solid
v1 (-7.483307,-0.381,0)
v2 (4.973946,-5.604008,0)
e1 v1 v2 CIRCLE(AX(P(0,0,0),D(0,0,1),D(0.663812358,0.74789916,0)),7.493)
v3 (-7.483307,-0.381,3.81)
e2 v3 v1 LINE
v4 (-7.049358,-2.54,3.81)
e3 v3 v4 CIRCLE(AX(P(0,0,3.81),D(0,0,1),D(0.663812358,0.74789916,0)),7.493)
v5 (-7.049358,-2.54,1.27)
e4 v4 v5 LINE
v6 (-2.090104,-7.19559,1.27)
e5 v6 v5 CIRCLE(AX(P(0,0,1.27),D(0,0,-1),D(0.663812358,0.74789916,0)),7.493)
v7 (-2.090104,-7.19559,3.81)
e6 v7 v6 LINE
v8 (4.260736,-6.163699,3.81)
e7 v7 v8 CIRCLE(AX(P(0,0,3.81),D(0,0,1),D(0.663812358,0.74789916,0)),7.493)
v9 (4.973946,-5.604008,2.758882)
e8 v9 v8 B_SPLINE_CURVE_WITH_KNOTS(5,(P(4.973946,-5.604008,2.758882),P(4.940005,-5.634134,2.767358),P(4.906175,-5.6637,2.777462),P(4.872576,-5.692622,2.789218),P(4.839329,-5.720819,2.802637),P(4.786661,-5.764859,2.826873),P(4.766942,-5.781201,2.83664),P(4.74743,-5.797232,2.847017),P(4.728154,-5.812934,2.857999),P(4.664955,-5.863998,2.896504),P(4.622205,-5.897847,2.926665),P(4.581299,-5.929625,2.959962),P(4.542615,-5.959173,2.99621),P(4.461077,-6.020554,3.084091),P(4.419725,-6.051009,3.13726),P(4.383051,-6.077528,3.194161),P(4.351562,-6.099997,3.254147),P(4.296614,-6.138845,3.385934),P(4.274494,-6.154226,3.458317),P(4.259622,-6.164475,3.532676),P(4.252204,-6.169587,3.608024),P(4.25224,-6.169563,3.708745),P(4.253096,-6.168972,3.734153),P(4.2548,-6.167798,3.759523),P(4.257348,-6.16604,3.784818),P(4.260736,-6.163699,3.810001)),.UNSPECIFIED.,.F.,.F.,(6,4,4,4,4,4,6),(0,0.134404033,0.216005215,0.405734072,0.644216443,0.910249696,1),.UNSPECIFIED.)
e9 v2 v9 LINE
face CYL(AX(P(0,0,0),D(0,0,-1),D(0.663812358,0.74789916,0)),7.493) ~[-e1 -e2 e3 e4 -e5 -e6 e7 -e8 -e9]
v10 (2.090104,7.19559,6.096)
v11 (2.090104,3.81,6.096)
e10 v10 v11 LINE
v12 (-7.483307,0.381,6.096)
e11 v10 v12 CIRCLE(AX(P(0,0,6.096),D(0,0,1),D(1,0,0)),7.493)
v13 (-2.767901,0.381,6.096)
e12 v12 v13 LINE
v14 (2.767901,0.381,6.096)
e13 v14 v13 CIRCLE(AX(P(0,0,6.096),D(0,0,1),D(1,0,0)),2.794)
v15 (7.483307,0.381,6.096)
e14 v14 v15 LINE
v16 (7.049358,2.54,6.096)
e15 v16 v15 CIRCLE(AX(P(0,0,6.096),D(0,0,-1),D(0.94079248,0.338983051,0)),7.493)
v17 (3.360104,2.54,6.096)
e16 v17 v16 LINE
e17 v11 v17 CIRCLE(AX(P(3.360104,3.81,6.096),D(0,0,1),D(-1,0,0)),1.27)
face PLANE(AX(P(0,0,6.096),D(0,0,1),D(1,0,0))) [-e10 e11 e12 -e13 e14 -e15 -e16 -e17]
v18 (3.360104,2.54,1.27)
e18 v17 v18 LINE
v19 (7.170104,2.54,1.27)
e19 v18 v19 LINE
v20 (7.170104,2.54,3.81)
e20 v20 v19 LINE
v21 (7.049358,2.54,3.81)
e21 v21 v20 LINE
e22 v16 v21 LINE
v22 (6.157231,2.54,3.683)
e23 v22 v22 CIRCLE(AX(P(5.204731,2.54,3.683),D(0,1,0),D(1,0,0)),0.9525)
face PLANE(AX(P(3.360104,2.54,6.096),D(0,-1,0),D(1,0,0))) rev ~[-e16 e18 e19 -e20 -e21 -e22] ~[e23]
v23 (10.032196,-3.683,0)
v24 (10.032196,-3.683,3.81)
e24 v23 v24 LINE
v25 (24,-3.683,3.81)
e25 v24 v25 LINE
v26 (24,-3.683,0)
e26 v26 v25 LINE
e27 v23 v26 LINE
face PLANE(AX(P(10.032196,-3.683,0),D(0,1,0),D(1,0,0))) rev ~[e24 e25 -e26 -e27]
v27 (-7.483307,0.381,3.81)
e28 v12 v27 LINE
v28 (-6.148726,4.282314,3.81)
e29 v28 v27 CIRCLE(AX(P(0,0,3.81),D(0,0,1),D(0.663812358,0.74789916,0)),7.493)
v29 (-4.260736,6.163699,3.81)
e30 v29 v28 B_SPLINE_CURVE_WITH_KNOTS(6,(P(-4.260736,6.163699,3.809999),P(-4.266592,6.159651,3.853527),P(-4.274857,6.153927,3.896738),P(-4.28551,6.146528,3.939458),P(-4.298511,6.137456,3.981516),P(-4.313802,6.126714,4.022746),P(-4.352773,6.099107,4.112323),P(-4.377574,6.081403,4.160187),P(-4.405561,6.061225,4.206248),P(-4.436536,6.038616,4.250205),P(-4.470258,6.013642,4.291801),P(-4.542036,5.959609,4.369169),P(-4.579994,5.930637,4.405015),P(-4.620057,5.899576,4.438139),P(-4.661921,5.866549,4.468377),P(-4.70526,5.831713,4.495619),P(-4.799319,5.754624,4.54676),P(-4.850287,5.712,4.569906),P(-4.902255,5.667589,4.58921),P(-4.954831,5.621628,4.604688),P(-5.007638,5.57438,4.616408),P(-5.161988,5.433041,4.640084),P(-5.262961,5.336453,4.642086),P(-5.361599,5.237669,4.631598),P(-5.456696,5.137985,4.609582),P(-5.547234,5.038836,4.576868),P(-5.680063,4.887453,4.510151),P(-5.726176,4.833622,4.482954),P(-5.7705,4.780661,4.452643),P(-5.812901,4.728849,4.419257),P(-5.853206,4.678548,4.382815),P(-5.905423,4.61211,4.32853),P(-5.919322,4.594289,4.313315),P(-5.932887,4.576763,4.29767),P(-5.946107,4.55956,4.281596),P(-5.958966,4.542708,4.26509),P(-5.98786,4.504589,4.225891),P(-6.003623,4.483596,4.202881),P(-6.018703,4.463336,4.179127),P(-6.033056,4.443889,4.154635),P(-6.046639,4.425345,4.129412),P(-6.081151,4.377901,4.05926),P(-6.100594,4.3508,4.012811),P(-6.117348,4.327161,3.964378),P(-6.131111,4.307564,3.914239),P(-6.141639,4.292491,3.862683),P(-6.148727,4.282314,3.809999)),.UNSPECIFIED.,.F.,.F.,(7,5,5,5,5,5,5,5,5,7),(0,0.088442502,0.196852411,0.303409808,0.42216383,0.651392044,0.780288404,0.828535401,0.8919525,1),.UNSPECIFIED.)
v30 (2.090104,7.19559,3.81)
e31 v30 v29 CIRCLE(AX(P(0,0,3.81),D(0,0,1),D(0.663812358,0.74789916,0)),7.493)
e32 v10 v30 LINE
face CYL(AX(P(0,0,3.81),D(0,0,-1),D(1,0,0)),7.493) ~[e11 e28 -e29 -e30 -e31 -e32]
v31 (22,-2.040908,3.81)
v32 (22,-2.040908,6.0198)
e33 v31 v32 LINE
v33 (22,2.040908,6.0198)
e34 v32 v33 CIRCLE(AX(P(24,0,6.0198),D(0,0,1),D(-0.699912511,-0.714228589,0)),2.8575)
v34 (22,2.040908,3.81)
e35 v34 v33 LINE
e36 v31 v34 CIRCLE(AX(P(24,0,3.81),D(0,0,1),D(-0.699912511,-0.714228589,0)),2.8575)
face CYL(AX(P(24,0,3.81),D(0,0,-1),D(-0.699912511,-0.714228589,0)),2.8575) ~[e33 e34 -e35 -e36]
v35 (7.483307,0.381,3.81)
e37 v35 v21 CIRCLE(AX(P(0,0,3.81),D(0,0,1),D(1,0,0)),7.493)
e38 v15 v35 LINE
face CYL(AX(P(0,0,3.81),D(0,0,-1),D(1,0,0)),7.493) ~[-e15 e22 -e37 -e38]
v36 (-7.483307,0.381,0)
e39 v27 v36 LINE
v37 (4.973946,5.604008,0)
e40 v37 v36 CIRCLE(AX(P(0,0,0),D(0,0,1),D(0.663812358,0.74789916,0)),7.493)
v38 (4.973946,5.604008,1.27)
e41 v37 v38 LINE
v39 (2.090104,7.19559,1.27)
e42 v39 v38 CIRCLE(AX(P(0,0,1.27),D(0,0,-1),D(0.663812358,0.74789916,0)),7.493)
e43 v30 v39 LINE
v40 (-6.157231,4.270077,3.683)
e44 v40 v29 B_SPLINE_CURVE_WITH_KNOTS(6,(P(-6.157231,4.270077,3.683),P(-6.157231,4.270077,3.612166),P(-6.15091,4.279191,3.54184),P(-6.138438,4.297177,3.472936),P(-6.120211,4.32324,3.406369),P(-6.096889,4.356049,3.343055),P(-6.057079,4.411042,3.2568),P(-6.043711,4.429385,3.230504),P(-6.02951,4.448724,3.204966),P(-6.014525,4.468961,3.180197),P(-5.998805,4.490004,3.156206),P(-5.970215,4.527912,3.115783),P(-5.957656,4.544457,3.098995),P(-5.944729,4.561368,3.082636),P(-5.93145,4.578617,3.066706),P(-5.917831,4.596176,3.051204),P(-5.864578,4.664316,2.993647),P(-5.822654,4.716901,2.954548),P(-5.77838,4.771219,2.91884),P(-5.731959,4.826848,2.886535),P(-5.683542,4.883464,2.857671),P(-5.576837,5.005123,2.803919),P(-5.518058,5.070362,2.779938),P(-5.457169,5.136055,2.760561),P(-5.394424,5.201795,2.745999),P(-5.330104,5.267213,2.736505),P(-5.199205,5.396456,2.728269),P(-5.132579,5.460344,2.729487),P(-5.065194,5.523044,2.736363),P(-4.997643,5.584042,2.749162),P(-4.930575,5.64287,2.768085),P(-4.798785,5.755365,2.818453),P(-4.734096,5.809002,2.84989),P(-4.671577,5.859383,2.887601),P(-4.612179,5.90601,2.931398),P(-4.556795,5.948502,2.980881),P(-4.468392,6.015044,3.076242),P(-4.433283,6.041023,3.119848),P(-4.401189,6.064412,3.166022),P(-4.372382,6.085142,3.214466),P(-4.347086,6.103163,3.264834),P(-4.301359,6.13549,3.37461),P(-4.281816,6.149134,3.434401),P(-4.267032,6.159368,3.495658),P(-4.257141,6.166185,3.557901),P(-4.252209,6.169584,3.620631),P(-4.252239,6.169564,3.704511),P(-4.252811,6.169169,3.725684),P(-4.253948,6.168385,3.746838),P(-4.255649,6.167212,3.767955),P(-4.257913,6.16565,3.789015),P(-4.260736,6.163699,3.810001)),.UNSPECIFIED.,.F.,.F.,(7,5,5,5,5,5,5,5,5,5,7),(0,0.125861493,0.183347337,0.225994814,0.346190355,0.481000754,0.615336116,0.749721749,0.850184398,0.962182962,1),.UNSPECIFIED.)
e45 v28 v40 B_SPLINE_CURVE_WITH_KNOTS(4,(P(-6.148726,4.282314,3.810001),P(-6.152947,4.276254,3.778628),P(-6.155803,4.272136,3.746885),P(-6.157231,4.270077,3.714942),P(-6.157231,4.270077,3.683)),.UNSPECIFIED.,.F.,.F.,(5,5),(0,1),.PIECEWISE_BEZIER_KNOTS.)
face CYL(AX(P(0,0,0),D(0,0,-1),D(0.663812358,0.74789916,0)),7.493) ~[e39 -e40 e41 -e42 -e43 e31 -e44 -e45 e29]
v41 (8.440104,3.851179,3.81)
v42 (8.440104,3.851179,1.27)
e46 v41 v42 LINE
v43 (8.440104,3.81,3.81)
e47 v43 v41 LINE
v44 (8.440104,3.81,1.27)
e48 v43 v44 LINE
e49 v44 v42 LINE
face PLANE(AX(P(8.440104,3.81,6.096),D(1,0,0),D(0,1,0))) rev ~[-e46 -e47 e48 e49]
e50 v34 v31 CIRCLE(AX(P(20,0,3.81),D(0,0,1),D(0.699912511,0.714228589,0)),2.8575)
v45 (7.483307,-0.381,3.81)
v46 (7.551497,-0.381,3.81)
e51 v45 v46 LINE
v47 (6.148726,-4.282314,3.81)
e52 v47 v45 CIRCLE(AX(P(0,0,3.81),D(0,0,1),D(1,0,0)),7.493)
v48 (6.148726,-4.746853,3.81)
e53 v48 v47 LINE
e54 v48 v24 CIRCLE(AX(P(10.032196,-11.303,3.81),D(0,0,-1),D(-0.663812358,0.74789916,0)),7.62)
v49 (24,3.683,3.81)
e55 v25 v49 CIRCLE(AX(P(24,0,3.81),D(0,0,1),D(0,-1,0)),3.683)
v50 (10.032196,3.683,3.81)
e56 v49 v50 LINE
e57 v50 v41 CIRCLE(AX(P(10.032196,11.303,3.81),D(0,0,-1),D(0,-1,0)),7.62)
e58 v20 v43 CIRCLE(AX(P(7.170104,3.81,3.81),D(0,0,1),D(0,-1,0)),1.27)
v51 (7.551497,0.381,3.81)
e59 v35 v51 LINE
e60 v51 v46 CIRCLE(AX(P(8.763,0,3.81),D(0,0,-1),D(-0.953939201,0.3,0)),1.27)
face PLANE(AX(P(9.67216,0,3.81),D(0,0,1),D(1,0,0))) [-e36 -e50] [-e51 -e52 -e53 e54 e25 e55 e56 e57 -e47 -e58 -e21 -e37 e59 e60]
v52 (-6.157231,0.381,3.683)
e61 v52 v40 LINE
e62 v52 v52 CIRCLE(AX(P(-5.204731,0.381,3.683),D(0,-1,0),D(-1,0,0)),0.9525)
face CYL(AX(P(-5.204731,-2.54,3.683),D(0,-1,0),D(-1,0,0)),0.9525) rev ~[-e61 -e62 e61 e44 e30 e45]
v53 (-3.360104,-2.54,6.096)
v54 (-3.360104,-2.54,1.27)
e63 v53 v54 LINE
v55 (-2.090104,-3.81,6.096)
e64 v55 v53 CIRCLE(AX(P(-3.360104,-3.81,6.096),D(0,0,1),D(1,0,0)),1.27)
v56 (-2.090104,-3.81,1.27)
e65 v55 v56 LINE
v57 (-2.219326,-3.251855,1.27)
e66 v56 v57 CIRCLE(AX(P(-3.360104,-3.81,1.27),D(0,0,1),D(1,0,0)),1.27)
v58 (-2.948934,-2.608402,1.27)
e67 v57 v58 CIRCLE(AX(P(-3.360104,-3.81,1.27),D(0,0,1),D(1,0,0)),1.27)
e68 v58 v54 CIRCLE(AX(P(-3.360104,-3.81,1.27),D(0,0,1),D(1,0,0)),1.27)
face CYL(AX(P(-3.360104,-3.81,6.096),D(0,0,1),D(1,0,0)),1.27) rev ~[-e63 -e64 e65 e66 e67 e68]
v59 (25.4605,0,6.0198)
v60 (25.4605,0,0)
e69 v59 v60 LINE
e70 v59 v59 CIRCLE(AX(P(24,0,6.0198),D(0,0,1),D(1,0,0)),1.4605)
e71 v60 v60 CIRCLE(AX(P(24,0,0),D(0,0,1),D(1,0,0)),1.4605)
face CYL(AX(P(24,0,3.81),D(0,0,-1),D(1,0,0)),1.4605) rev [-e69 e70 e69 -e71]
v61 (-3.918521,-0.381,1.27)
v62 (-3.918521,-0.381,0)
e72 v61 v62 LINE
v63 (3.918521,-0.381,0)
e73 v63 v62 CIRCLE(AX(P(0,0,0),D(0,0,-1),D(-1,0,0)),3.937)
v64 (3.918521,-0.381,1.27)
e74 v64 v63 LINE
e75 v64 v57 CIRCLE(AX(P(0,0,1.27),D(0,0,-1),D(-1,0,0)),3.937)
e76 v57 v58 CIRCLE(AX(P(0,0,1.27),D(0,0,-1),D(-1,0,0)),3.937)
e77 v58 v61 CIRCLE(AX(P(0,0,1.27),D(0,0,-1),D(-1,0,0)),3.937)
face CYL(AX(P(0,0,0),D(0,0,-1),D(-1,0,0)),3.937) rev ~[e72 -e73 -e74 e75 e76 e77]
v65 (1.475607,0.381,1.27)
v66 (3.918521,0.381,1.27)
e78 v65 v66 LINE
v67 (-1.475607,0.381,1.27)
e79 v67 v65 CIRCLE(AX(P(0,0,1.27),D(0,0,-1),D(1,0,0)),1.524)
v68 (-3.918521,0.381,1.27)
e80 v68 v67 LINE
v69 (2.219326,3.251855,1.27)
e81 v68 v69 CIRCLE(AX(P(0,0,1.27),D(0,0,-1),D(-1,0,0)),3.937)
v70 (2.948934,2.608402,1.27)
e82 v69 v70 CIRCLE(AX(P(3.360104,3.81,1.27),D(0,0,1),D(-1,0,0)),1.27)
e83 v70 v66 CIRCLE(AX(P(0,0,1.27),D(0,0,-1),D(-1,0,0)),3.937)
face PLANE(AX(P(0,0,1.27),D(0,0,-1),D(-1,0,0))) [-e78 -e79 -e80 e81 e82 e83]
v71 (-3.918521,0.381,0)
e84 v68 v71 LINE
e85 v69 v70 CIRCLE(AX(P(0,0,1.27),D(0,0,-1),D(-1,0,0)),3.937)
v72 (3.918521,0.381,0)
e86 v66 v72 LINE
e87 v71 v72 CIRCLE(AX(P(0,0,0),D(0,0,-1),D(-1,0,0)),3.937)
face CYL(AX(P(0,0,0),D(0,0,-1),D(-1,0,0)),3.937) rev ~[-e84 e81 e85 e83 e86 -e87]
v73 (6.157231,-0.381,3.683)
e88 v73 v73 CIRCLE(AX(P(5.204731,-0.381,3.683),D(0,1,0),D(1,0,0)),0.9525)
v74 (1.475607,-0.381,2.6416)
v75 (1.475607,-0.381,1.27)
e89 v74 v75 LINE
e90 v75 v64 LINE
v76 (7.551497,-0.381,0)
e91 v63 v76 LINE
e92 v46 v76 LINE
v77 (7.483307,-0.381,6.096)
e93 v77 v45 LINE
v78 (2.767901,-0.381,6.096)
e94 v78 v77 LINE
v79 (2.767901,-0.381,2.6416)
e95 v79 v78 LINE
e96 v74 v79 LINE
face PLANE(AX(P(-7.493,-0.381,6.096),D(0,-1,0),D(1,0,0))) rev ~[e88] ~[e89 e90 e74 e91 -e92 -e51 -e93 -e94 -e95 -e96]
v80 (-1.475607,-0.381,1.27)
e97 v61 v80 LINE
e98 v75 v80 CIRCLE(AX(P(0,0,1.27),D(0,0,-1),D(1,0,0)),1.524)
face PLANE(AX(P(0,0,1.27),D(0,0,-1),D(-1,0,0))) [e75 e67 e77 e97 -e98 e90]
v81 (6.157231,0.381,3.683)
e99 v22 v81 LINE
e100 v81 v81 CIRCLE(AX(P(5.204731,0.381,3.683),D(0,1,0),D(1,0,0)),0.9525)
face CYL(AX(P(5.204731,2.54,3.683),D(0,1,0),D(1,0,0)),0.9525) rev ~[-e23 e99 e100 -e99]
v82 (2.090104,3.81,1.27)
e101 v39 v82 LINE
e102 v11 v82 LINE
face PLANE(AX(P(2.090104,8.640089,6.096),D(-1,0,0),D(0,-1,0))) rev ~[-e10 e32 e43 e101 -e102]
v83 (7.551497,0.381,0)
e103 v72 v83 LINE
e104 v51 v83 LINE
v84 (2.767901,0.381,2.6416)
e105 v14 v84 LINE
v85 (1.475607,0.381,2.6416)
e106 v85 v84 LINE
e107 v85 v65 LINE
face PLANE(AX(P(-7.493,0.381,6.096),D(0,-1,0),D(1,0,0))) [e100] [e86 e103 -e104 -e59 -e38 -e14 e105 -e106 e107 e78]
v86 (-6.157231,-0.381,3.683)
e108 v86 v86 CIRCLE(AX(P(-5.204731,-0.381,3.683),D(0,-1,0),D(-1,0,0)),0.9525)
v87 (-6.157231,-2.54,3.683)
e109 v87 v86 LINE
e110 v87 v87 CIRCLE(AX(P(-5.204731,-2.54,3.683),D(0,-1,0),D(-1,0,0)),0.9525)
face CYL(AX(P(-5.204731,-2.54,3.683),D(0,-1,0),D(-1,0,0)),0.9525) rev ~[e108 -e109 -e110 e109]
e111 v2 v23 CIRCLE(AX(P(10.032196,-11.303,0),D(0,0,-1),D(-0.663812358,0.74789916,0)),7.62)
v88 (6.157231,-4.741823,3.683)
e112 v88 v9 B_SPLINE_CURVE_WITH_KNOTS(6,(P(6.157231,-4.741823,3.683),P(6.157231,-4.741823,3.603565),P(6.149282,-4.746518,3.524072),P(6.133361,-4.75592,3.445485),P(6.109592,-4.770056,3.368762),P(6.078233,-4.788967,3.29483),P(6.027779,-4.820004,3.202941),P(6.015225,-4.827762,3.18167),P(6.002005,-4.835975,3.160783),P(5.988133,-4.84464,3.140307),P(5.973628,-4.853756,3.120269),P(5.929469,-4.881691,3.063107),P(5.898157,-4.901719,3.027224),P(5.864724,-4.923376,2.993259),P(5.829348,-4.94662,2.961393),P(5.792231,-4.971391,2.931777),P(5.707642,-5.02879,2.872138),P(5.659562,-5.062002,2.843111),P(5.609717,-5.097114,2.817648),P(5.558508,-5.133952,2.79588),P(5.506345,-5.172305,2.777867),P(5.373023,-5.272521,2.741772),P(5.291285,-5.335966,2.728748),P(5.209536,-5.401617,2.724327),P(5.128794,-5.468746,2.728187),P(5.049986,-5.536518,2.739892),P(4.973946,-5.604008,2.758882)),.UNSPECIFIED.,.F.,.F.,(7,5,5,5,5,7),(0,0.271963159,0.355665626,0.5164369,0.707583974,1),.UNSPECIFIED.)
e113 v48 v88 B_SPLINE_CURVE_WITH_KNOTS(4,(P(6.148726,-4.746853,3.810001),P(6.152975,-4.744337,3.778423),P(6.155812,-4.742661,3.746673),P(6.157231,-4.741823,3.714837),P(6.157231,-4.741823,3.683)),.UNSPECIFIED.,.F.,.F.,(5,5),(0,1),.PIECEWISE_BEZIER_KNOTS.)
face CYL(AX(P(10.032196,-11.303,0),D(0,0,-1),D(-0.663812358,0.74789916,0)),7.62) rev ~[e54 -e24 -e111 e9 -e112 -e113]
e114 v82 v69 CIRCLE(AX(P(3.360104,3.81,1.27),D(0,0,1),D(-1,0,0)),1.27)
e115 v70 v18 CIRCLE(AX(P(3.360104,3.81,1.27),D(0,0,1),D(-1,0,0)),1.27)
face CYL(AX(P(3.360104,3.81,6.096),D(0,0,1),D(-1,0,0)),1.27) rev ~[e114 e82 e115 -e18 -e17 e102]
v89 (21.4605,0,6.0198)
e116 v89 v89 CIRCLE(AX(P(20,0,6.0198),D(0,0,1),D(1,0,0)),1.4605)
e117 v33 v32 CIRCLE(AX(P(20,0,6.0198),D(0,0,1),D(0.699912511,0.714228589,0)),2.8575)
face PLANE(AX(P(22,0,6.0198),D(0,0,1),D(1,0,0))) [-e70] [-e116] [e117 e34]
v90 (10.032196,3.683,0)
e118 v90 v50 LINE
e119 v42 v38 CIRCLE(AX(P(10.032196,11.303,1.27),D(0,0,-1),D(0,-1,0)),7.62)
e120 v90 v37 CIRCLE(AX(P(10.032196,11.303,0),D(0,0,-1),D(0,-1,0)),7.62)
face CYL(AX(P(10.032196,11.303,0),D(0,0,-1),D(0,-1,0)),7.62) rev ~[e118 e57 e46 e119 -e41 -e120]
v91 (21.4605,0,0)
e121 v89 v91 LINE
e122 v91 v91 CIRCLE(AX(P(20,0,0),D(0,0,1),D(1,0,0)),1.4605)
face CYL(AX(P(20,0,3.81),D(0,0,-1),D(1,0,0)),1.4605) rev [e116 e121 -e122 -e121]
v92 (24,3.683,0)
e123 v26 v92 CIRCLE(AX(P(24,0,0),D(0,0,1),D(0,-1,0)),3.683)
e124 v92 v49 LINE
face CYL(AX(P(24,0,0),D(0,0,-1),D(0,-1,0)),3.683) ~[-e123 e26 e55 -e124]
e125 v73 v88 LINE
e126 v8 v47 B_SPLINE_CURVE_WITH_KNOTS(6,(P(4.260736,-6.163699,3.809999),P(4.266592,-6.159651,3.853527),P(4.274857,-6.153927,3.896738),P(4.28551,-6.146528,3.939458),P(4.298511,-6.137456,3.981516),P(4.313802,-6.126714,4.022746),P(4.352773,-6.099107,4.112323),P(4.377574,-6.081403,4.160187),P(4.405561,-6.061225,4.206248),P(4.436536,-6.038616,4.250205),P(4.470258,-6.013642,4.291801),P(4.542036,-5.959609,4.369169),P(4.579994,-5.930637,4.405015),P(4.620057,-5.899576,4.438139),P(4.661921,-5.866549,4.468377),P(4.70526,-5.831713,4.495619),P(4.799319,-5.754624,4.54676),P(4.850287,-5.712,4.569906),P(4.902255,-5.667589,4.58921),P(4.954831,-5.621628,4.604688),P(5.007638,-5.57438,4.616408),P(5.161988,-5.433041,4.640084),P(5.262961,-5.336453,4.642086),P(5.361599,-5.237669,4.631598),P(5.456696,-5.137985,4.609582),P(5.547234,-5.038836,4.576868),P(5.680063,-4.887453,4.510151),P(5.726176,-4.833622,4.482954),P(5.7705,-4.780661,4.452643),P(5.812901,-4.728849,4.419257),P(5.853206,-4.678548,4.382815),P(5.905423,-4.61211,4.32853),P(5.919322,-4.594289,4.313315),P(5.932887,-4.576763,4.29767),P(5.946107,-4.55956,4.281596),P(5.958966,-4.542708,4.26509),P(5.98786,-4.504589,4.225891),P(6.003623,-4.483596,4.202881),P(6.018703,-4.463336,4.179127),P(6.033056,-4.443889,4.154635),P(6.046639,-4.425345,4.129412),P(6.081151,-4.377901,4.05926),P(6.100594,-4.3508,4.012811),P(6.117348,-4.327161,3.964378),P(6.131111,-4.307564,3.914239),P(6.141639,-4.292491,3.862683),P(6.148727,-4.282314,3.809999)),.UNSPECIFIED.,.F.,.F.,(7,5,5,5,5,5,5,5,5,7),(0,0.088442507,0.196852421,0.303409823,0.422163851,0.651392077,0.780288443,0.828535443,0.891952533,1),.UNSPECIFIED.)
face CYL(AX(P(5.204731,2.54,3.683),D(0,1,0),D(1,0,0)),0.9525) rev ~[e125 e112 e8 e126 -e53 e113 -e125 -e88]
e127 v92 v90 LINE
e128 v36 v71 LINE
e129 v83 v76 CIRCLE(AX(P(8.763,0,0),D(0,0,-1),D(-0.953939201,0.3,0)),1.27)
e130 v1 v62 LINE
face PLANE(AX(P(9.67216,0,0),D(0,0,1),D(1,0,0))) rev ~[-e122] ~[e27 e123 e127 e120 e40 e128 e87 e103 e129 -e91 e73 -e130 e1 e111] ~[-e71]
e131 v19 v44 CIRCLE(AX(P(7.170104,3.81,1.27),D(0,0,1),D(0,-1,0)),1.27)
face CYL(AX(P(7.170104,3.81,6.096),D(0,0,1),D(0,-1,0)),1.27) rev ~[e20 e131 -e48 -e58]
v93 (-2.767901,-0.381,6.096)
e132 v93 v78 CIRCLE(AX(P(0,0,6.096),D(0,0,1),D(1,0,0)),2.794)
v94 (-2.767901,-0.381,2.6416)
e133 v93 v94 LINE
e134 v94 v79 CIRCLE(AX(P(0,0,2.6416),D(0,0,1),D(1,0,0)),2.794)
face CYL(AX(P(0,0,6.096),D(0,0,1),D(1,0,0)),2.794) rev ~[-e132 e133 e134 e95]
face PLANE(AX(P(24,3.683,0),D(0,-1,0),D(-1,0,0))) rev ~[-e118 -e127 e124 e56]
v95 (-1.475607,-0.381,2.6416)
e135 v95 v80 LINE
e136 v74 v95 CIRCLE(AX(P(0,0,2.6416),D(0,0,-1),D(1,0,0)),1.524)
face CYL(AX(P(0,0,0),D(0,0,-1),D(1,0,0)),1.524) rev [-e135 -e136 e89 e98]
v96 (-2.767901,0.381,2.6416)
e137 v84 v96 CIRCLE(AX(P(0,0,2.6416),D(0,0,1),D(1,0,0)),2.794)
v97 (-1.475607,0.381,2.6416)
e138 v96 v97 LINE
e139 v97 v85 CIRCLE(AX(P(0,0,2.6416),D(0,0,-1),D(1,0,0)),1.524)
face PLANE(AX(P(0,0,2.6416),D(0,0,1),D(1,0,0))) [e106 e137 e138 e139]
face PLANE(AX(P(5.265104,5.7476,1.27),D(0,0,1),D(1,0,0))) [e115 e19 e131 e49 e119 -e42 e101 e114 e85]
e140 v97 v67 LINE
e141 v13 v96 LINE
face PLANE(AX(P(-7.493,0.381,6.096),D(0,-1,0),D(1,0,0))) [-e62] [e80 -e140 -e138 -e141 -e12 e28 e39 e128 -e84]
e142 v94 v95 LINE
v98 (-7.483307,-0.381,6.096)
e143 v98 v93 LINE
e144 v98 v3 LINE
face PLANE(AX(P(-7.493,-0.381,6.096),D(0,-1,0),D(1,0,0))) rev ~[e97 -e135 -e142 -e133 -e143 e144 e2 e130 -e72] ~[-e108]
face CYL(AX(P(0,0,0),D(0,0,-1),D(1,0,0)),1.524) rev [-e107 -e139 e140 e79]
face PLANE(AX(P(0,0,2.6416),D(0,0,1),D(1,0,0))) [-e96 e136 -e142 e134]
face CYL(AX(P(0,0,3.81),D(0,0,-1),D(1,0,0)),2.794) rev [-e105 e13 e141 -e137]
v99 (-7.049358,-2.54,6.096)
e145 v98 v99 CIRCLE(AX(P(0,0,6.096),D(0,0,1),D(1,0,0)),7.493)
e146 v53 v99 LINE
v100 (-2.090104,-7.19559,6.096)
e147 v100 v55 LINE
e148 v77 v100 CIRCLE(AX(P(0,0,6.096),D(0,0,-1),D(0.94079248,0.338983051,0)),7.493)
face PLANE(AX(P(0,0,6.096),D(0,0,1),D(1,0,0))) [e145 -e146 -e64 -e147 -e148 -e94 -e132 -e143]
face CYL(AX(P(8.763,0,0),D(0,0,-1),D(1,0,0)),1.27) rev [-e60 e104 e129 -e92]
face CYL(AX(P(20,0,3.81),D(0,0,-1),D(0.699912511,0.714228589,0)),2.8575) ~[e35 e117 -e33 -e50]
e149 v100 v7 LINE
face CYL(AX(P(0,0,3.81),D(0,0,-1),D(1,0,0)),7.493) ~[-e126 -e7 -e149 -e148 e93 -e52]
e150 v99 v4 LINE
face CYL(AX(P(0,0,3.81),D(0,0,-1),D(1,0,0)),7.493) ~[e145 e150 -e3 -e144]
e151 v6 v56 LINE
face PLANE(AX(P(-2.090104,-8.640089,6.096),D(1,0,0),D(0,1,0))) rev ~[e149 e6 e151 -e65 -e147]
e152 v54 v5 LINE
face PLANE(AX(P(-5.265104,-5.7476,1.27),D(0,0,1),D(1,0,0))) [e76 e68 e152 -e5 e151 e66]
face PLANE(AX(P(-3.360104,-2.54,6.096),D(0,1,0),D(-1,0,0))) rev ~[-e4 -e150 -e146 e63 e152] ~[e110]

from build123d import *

# Parameters (mm, degrees)
SKETCH1_R           = 1.4605
SKETCH1_R_2         = 1.524
SKETCH1_R_3         = 1.27
BOSS_EXTRUDE2_DEPTH = 3.81
SKETCH2_R           = 1.4605
BOSS_EXTRUDE3_DEPTH = 2.2098
SKETCH3_R           = 7.493
SKETCH3_R_2         = 2.794
BOSS_EXTRUDE4_DEPTH = 2.286
SKETCH4_R           = 2.794
CUT_EXTRUDE1_DEPTH  = 3.4544
CUT_EXTRUDE2_DEPTH  = 4.826
SKETCH6_R           = 0.9525
CUT_EXTRUDE3_DEPTH  = 11.033
SKETCH7_R           = 0.9525
CUT_EXTRUDE4_DEPTH  = 11.0330001
SKETCH8_W           = 15.900663219
SKETCH8_H           = 0.762
CUT_EXTRUDE5_DEPTH  = 7.0960001
SKETCH9_R           = 3.937
CUT_EXTRUDE6_DEPTH  = 1.27


with BuildPart() as part:
    # Sketch1 → Boss-Extrude2 (new body)
    with BuildSketch(Plane.XY):
        with BuildLine():
            Line((24, 3.683), (10.03219617, 3.683))
            ThreePointArc((10.03219617, 3.683), (7.326823365, 4.179422389), (4.973946, 5.604008403))
            ThreePointArc((4.973946, 5.604008403), (-7.493, 0), (4.973946, -5.604008403))
            ThreePointArc((4.973946, -5.604008403), (7.326823365, -4.179422389), (10.03219617, -3.683))
            Line((10.03219617, -3.683), (24, -3.683))
            ThreePointArc((24, -3.683), (27.683, 0), (24, 3.683))
        make_face()
        with Locations((24, 0)):
            Circle(SKETCH1_R, mode=Mode.SUBTRACT)
        with Locations((20, 0)):
            Circle(SKETCH1_R, mode=Mode.SUBTRACT)
        Circle(SKETCH1_R_2, mode=Mode.SUBTRACT)
        with Locations((8.763, 0)):
            Circle(SKETCH1_R_3, mode=Mode.SUBTRACT)
    extrude(amount=BOSS_EXTRUDE2_DEPTH)

    # Sketch2 → Boss-Extrude3 (add)
    with BuildSketch(Plane.XY.offset(3.81)):
        with BuildLine():
            ThreePointArc((22, -2.040908192), (26.8575, 0), (22, 2.040908192))
            ThreePointArc((22, 2.040908192), (17.1425, 0), (22, -2.040908192))
        make_face()
        with Locations((20, 0)):
            Circle(SKETCH2_R, mode=Mode.SUBTRACT)
        with Locations((24, 0)):
            Circle(SKETCH2_R, mode=Mode.SUBTRACT)
    extrude(amount=BOSS_EXTRUDE3_DEPTH)

    # Sketch3 → Boss-Extrude4 (add)
    with BuildSketch(Plane.XY.offset(3.81)):
        Circle(SKETCH3_R)
        Circle(SKETCH3_R_2, mode=Mode.SUBTRACT)
    extrude(amount=BOSS_EXTRUDE4_DEPTH)

    # Sketch4 → Cut-Extrude1 (cut)
    with BuildSketch(Plane.XY.offset(6.096)):
        Circle(SKETCH4_R)
    extrude(amount=-CUT_EXTRUDE1_DEPTH, mode=Mode.SUBTRACT)

    # Sketch5 → Cut-Extrude2 (cut)
    with BuildSketch(Plane.XY.offset(6.096)):
        with BuildLine():
            Line((-2.090104165, -8.640089248), (-2.090104165, -3.81))
            ThreePointArc((-2.090104165, -3.81), (-2.462078553, -2.911974388), (-3.360104165, -2.54))
            Line((-3.360104165, -2.54), (-7.170104165, -2.54))
            ThreePointArc((-7.170104165, -2.54), (-8.068129777, -2.911974388), (-8.440104165, -3.81))
            Line((-8.440104165, -3.81), (-8.440104165, -8.640089248))
            Line((-8.440104165, -8.640089248), (-2.090104165, -8.640089248))
        make_face()
        with BuildLine():
            Line((8.440104165, 8.640089248), (2.090104165, 8.640089248))
            Line((2.090104165, 8.640089248), (2.090104165, 3.81))
            ThreePointArc((2.090104165, 3.81), (2.462078553, 2.911974388), (3.360104165, 2.54))
            Line((3.360104165, 2.54), (7.170104165, 2.54))
            ThreePointArc((7.170104165, 2.54), (8.068129777, 2.911974388), (8.440104165, 3.81))
            Line((8.440104165, 3.81), (8.440104165, 8.640089248))
        make_face()
    extrude(amount=-CUT_EXTRUDE2_DEPTH, mode=Mode.SUBTRACT)

    # Sketch6 → Cut-Extrude3 (cut, through all)
    with BuildSketch(Plane(origin=(0, -2.54, 0), x_dir=(-1, 0, 0), z_dir=(0, -1, 0))):
        with Locations((5.20473111, -3.683)):
            Circle(SKETCH6_R)
    extrude(amount=-CUT_EXTRUDE3_DEPTH, mode=Mode.SUBTRACT)

    # Sketch7 → Cut-Extrude4 (cut, through all)
    with BuildSketch(Plane(origin=(0, 2.54, 0), x_dir=(1, 0, 0), z_dir=(0, 1, 0))):
        with Locations((5.20473111, -3.683)):
            Circle(SKETCH7_R)
    extrude(amount=-CUT_EXTRUDE4_DEPTH, mode=Mode.SUBTRACT)

    # Sketch8 → Cut-Extrude5 (cut, through all)
    with BuildSketch(Plane.XY.offset(6.096)):
        with Locations((0.457331609, 0)):
            Rectangle(SKETCH8_W, SKETCH8_H)
    extrude(amount=-CUT_EXTRUDE5_DEPTH, mode=Mode.SUBTRACT)

    # Sketch9 → Cut-Extrude6 (cut)
    with BuildSketch(Plane(origin=(0, 0, 0), x_dir=(-1, 0, 0), z_dir=(0, 0, -1))):
        Circle(SKETCH9_R)
    extrude(amount=-CUT_EXTRUDE6_DEPTH, mode=Mode.SUBTRACT)


solid = part.part
